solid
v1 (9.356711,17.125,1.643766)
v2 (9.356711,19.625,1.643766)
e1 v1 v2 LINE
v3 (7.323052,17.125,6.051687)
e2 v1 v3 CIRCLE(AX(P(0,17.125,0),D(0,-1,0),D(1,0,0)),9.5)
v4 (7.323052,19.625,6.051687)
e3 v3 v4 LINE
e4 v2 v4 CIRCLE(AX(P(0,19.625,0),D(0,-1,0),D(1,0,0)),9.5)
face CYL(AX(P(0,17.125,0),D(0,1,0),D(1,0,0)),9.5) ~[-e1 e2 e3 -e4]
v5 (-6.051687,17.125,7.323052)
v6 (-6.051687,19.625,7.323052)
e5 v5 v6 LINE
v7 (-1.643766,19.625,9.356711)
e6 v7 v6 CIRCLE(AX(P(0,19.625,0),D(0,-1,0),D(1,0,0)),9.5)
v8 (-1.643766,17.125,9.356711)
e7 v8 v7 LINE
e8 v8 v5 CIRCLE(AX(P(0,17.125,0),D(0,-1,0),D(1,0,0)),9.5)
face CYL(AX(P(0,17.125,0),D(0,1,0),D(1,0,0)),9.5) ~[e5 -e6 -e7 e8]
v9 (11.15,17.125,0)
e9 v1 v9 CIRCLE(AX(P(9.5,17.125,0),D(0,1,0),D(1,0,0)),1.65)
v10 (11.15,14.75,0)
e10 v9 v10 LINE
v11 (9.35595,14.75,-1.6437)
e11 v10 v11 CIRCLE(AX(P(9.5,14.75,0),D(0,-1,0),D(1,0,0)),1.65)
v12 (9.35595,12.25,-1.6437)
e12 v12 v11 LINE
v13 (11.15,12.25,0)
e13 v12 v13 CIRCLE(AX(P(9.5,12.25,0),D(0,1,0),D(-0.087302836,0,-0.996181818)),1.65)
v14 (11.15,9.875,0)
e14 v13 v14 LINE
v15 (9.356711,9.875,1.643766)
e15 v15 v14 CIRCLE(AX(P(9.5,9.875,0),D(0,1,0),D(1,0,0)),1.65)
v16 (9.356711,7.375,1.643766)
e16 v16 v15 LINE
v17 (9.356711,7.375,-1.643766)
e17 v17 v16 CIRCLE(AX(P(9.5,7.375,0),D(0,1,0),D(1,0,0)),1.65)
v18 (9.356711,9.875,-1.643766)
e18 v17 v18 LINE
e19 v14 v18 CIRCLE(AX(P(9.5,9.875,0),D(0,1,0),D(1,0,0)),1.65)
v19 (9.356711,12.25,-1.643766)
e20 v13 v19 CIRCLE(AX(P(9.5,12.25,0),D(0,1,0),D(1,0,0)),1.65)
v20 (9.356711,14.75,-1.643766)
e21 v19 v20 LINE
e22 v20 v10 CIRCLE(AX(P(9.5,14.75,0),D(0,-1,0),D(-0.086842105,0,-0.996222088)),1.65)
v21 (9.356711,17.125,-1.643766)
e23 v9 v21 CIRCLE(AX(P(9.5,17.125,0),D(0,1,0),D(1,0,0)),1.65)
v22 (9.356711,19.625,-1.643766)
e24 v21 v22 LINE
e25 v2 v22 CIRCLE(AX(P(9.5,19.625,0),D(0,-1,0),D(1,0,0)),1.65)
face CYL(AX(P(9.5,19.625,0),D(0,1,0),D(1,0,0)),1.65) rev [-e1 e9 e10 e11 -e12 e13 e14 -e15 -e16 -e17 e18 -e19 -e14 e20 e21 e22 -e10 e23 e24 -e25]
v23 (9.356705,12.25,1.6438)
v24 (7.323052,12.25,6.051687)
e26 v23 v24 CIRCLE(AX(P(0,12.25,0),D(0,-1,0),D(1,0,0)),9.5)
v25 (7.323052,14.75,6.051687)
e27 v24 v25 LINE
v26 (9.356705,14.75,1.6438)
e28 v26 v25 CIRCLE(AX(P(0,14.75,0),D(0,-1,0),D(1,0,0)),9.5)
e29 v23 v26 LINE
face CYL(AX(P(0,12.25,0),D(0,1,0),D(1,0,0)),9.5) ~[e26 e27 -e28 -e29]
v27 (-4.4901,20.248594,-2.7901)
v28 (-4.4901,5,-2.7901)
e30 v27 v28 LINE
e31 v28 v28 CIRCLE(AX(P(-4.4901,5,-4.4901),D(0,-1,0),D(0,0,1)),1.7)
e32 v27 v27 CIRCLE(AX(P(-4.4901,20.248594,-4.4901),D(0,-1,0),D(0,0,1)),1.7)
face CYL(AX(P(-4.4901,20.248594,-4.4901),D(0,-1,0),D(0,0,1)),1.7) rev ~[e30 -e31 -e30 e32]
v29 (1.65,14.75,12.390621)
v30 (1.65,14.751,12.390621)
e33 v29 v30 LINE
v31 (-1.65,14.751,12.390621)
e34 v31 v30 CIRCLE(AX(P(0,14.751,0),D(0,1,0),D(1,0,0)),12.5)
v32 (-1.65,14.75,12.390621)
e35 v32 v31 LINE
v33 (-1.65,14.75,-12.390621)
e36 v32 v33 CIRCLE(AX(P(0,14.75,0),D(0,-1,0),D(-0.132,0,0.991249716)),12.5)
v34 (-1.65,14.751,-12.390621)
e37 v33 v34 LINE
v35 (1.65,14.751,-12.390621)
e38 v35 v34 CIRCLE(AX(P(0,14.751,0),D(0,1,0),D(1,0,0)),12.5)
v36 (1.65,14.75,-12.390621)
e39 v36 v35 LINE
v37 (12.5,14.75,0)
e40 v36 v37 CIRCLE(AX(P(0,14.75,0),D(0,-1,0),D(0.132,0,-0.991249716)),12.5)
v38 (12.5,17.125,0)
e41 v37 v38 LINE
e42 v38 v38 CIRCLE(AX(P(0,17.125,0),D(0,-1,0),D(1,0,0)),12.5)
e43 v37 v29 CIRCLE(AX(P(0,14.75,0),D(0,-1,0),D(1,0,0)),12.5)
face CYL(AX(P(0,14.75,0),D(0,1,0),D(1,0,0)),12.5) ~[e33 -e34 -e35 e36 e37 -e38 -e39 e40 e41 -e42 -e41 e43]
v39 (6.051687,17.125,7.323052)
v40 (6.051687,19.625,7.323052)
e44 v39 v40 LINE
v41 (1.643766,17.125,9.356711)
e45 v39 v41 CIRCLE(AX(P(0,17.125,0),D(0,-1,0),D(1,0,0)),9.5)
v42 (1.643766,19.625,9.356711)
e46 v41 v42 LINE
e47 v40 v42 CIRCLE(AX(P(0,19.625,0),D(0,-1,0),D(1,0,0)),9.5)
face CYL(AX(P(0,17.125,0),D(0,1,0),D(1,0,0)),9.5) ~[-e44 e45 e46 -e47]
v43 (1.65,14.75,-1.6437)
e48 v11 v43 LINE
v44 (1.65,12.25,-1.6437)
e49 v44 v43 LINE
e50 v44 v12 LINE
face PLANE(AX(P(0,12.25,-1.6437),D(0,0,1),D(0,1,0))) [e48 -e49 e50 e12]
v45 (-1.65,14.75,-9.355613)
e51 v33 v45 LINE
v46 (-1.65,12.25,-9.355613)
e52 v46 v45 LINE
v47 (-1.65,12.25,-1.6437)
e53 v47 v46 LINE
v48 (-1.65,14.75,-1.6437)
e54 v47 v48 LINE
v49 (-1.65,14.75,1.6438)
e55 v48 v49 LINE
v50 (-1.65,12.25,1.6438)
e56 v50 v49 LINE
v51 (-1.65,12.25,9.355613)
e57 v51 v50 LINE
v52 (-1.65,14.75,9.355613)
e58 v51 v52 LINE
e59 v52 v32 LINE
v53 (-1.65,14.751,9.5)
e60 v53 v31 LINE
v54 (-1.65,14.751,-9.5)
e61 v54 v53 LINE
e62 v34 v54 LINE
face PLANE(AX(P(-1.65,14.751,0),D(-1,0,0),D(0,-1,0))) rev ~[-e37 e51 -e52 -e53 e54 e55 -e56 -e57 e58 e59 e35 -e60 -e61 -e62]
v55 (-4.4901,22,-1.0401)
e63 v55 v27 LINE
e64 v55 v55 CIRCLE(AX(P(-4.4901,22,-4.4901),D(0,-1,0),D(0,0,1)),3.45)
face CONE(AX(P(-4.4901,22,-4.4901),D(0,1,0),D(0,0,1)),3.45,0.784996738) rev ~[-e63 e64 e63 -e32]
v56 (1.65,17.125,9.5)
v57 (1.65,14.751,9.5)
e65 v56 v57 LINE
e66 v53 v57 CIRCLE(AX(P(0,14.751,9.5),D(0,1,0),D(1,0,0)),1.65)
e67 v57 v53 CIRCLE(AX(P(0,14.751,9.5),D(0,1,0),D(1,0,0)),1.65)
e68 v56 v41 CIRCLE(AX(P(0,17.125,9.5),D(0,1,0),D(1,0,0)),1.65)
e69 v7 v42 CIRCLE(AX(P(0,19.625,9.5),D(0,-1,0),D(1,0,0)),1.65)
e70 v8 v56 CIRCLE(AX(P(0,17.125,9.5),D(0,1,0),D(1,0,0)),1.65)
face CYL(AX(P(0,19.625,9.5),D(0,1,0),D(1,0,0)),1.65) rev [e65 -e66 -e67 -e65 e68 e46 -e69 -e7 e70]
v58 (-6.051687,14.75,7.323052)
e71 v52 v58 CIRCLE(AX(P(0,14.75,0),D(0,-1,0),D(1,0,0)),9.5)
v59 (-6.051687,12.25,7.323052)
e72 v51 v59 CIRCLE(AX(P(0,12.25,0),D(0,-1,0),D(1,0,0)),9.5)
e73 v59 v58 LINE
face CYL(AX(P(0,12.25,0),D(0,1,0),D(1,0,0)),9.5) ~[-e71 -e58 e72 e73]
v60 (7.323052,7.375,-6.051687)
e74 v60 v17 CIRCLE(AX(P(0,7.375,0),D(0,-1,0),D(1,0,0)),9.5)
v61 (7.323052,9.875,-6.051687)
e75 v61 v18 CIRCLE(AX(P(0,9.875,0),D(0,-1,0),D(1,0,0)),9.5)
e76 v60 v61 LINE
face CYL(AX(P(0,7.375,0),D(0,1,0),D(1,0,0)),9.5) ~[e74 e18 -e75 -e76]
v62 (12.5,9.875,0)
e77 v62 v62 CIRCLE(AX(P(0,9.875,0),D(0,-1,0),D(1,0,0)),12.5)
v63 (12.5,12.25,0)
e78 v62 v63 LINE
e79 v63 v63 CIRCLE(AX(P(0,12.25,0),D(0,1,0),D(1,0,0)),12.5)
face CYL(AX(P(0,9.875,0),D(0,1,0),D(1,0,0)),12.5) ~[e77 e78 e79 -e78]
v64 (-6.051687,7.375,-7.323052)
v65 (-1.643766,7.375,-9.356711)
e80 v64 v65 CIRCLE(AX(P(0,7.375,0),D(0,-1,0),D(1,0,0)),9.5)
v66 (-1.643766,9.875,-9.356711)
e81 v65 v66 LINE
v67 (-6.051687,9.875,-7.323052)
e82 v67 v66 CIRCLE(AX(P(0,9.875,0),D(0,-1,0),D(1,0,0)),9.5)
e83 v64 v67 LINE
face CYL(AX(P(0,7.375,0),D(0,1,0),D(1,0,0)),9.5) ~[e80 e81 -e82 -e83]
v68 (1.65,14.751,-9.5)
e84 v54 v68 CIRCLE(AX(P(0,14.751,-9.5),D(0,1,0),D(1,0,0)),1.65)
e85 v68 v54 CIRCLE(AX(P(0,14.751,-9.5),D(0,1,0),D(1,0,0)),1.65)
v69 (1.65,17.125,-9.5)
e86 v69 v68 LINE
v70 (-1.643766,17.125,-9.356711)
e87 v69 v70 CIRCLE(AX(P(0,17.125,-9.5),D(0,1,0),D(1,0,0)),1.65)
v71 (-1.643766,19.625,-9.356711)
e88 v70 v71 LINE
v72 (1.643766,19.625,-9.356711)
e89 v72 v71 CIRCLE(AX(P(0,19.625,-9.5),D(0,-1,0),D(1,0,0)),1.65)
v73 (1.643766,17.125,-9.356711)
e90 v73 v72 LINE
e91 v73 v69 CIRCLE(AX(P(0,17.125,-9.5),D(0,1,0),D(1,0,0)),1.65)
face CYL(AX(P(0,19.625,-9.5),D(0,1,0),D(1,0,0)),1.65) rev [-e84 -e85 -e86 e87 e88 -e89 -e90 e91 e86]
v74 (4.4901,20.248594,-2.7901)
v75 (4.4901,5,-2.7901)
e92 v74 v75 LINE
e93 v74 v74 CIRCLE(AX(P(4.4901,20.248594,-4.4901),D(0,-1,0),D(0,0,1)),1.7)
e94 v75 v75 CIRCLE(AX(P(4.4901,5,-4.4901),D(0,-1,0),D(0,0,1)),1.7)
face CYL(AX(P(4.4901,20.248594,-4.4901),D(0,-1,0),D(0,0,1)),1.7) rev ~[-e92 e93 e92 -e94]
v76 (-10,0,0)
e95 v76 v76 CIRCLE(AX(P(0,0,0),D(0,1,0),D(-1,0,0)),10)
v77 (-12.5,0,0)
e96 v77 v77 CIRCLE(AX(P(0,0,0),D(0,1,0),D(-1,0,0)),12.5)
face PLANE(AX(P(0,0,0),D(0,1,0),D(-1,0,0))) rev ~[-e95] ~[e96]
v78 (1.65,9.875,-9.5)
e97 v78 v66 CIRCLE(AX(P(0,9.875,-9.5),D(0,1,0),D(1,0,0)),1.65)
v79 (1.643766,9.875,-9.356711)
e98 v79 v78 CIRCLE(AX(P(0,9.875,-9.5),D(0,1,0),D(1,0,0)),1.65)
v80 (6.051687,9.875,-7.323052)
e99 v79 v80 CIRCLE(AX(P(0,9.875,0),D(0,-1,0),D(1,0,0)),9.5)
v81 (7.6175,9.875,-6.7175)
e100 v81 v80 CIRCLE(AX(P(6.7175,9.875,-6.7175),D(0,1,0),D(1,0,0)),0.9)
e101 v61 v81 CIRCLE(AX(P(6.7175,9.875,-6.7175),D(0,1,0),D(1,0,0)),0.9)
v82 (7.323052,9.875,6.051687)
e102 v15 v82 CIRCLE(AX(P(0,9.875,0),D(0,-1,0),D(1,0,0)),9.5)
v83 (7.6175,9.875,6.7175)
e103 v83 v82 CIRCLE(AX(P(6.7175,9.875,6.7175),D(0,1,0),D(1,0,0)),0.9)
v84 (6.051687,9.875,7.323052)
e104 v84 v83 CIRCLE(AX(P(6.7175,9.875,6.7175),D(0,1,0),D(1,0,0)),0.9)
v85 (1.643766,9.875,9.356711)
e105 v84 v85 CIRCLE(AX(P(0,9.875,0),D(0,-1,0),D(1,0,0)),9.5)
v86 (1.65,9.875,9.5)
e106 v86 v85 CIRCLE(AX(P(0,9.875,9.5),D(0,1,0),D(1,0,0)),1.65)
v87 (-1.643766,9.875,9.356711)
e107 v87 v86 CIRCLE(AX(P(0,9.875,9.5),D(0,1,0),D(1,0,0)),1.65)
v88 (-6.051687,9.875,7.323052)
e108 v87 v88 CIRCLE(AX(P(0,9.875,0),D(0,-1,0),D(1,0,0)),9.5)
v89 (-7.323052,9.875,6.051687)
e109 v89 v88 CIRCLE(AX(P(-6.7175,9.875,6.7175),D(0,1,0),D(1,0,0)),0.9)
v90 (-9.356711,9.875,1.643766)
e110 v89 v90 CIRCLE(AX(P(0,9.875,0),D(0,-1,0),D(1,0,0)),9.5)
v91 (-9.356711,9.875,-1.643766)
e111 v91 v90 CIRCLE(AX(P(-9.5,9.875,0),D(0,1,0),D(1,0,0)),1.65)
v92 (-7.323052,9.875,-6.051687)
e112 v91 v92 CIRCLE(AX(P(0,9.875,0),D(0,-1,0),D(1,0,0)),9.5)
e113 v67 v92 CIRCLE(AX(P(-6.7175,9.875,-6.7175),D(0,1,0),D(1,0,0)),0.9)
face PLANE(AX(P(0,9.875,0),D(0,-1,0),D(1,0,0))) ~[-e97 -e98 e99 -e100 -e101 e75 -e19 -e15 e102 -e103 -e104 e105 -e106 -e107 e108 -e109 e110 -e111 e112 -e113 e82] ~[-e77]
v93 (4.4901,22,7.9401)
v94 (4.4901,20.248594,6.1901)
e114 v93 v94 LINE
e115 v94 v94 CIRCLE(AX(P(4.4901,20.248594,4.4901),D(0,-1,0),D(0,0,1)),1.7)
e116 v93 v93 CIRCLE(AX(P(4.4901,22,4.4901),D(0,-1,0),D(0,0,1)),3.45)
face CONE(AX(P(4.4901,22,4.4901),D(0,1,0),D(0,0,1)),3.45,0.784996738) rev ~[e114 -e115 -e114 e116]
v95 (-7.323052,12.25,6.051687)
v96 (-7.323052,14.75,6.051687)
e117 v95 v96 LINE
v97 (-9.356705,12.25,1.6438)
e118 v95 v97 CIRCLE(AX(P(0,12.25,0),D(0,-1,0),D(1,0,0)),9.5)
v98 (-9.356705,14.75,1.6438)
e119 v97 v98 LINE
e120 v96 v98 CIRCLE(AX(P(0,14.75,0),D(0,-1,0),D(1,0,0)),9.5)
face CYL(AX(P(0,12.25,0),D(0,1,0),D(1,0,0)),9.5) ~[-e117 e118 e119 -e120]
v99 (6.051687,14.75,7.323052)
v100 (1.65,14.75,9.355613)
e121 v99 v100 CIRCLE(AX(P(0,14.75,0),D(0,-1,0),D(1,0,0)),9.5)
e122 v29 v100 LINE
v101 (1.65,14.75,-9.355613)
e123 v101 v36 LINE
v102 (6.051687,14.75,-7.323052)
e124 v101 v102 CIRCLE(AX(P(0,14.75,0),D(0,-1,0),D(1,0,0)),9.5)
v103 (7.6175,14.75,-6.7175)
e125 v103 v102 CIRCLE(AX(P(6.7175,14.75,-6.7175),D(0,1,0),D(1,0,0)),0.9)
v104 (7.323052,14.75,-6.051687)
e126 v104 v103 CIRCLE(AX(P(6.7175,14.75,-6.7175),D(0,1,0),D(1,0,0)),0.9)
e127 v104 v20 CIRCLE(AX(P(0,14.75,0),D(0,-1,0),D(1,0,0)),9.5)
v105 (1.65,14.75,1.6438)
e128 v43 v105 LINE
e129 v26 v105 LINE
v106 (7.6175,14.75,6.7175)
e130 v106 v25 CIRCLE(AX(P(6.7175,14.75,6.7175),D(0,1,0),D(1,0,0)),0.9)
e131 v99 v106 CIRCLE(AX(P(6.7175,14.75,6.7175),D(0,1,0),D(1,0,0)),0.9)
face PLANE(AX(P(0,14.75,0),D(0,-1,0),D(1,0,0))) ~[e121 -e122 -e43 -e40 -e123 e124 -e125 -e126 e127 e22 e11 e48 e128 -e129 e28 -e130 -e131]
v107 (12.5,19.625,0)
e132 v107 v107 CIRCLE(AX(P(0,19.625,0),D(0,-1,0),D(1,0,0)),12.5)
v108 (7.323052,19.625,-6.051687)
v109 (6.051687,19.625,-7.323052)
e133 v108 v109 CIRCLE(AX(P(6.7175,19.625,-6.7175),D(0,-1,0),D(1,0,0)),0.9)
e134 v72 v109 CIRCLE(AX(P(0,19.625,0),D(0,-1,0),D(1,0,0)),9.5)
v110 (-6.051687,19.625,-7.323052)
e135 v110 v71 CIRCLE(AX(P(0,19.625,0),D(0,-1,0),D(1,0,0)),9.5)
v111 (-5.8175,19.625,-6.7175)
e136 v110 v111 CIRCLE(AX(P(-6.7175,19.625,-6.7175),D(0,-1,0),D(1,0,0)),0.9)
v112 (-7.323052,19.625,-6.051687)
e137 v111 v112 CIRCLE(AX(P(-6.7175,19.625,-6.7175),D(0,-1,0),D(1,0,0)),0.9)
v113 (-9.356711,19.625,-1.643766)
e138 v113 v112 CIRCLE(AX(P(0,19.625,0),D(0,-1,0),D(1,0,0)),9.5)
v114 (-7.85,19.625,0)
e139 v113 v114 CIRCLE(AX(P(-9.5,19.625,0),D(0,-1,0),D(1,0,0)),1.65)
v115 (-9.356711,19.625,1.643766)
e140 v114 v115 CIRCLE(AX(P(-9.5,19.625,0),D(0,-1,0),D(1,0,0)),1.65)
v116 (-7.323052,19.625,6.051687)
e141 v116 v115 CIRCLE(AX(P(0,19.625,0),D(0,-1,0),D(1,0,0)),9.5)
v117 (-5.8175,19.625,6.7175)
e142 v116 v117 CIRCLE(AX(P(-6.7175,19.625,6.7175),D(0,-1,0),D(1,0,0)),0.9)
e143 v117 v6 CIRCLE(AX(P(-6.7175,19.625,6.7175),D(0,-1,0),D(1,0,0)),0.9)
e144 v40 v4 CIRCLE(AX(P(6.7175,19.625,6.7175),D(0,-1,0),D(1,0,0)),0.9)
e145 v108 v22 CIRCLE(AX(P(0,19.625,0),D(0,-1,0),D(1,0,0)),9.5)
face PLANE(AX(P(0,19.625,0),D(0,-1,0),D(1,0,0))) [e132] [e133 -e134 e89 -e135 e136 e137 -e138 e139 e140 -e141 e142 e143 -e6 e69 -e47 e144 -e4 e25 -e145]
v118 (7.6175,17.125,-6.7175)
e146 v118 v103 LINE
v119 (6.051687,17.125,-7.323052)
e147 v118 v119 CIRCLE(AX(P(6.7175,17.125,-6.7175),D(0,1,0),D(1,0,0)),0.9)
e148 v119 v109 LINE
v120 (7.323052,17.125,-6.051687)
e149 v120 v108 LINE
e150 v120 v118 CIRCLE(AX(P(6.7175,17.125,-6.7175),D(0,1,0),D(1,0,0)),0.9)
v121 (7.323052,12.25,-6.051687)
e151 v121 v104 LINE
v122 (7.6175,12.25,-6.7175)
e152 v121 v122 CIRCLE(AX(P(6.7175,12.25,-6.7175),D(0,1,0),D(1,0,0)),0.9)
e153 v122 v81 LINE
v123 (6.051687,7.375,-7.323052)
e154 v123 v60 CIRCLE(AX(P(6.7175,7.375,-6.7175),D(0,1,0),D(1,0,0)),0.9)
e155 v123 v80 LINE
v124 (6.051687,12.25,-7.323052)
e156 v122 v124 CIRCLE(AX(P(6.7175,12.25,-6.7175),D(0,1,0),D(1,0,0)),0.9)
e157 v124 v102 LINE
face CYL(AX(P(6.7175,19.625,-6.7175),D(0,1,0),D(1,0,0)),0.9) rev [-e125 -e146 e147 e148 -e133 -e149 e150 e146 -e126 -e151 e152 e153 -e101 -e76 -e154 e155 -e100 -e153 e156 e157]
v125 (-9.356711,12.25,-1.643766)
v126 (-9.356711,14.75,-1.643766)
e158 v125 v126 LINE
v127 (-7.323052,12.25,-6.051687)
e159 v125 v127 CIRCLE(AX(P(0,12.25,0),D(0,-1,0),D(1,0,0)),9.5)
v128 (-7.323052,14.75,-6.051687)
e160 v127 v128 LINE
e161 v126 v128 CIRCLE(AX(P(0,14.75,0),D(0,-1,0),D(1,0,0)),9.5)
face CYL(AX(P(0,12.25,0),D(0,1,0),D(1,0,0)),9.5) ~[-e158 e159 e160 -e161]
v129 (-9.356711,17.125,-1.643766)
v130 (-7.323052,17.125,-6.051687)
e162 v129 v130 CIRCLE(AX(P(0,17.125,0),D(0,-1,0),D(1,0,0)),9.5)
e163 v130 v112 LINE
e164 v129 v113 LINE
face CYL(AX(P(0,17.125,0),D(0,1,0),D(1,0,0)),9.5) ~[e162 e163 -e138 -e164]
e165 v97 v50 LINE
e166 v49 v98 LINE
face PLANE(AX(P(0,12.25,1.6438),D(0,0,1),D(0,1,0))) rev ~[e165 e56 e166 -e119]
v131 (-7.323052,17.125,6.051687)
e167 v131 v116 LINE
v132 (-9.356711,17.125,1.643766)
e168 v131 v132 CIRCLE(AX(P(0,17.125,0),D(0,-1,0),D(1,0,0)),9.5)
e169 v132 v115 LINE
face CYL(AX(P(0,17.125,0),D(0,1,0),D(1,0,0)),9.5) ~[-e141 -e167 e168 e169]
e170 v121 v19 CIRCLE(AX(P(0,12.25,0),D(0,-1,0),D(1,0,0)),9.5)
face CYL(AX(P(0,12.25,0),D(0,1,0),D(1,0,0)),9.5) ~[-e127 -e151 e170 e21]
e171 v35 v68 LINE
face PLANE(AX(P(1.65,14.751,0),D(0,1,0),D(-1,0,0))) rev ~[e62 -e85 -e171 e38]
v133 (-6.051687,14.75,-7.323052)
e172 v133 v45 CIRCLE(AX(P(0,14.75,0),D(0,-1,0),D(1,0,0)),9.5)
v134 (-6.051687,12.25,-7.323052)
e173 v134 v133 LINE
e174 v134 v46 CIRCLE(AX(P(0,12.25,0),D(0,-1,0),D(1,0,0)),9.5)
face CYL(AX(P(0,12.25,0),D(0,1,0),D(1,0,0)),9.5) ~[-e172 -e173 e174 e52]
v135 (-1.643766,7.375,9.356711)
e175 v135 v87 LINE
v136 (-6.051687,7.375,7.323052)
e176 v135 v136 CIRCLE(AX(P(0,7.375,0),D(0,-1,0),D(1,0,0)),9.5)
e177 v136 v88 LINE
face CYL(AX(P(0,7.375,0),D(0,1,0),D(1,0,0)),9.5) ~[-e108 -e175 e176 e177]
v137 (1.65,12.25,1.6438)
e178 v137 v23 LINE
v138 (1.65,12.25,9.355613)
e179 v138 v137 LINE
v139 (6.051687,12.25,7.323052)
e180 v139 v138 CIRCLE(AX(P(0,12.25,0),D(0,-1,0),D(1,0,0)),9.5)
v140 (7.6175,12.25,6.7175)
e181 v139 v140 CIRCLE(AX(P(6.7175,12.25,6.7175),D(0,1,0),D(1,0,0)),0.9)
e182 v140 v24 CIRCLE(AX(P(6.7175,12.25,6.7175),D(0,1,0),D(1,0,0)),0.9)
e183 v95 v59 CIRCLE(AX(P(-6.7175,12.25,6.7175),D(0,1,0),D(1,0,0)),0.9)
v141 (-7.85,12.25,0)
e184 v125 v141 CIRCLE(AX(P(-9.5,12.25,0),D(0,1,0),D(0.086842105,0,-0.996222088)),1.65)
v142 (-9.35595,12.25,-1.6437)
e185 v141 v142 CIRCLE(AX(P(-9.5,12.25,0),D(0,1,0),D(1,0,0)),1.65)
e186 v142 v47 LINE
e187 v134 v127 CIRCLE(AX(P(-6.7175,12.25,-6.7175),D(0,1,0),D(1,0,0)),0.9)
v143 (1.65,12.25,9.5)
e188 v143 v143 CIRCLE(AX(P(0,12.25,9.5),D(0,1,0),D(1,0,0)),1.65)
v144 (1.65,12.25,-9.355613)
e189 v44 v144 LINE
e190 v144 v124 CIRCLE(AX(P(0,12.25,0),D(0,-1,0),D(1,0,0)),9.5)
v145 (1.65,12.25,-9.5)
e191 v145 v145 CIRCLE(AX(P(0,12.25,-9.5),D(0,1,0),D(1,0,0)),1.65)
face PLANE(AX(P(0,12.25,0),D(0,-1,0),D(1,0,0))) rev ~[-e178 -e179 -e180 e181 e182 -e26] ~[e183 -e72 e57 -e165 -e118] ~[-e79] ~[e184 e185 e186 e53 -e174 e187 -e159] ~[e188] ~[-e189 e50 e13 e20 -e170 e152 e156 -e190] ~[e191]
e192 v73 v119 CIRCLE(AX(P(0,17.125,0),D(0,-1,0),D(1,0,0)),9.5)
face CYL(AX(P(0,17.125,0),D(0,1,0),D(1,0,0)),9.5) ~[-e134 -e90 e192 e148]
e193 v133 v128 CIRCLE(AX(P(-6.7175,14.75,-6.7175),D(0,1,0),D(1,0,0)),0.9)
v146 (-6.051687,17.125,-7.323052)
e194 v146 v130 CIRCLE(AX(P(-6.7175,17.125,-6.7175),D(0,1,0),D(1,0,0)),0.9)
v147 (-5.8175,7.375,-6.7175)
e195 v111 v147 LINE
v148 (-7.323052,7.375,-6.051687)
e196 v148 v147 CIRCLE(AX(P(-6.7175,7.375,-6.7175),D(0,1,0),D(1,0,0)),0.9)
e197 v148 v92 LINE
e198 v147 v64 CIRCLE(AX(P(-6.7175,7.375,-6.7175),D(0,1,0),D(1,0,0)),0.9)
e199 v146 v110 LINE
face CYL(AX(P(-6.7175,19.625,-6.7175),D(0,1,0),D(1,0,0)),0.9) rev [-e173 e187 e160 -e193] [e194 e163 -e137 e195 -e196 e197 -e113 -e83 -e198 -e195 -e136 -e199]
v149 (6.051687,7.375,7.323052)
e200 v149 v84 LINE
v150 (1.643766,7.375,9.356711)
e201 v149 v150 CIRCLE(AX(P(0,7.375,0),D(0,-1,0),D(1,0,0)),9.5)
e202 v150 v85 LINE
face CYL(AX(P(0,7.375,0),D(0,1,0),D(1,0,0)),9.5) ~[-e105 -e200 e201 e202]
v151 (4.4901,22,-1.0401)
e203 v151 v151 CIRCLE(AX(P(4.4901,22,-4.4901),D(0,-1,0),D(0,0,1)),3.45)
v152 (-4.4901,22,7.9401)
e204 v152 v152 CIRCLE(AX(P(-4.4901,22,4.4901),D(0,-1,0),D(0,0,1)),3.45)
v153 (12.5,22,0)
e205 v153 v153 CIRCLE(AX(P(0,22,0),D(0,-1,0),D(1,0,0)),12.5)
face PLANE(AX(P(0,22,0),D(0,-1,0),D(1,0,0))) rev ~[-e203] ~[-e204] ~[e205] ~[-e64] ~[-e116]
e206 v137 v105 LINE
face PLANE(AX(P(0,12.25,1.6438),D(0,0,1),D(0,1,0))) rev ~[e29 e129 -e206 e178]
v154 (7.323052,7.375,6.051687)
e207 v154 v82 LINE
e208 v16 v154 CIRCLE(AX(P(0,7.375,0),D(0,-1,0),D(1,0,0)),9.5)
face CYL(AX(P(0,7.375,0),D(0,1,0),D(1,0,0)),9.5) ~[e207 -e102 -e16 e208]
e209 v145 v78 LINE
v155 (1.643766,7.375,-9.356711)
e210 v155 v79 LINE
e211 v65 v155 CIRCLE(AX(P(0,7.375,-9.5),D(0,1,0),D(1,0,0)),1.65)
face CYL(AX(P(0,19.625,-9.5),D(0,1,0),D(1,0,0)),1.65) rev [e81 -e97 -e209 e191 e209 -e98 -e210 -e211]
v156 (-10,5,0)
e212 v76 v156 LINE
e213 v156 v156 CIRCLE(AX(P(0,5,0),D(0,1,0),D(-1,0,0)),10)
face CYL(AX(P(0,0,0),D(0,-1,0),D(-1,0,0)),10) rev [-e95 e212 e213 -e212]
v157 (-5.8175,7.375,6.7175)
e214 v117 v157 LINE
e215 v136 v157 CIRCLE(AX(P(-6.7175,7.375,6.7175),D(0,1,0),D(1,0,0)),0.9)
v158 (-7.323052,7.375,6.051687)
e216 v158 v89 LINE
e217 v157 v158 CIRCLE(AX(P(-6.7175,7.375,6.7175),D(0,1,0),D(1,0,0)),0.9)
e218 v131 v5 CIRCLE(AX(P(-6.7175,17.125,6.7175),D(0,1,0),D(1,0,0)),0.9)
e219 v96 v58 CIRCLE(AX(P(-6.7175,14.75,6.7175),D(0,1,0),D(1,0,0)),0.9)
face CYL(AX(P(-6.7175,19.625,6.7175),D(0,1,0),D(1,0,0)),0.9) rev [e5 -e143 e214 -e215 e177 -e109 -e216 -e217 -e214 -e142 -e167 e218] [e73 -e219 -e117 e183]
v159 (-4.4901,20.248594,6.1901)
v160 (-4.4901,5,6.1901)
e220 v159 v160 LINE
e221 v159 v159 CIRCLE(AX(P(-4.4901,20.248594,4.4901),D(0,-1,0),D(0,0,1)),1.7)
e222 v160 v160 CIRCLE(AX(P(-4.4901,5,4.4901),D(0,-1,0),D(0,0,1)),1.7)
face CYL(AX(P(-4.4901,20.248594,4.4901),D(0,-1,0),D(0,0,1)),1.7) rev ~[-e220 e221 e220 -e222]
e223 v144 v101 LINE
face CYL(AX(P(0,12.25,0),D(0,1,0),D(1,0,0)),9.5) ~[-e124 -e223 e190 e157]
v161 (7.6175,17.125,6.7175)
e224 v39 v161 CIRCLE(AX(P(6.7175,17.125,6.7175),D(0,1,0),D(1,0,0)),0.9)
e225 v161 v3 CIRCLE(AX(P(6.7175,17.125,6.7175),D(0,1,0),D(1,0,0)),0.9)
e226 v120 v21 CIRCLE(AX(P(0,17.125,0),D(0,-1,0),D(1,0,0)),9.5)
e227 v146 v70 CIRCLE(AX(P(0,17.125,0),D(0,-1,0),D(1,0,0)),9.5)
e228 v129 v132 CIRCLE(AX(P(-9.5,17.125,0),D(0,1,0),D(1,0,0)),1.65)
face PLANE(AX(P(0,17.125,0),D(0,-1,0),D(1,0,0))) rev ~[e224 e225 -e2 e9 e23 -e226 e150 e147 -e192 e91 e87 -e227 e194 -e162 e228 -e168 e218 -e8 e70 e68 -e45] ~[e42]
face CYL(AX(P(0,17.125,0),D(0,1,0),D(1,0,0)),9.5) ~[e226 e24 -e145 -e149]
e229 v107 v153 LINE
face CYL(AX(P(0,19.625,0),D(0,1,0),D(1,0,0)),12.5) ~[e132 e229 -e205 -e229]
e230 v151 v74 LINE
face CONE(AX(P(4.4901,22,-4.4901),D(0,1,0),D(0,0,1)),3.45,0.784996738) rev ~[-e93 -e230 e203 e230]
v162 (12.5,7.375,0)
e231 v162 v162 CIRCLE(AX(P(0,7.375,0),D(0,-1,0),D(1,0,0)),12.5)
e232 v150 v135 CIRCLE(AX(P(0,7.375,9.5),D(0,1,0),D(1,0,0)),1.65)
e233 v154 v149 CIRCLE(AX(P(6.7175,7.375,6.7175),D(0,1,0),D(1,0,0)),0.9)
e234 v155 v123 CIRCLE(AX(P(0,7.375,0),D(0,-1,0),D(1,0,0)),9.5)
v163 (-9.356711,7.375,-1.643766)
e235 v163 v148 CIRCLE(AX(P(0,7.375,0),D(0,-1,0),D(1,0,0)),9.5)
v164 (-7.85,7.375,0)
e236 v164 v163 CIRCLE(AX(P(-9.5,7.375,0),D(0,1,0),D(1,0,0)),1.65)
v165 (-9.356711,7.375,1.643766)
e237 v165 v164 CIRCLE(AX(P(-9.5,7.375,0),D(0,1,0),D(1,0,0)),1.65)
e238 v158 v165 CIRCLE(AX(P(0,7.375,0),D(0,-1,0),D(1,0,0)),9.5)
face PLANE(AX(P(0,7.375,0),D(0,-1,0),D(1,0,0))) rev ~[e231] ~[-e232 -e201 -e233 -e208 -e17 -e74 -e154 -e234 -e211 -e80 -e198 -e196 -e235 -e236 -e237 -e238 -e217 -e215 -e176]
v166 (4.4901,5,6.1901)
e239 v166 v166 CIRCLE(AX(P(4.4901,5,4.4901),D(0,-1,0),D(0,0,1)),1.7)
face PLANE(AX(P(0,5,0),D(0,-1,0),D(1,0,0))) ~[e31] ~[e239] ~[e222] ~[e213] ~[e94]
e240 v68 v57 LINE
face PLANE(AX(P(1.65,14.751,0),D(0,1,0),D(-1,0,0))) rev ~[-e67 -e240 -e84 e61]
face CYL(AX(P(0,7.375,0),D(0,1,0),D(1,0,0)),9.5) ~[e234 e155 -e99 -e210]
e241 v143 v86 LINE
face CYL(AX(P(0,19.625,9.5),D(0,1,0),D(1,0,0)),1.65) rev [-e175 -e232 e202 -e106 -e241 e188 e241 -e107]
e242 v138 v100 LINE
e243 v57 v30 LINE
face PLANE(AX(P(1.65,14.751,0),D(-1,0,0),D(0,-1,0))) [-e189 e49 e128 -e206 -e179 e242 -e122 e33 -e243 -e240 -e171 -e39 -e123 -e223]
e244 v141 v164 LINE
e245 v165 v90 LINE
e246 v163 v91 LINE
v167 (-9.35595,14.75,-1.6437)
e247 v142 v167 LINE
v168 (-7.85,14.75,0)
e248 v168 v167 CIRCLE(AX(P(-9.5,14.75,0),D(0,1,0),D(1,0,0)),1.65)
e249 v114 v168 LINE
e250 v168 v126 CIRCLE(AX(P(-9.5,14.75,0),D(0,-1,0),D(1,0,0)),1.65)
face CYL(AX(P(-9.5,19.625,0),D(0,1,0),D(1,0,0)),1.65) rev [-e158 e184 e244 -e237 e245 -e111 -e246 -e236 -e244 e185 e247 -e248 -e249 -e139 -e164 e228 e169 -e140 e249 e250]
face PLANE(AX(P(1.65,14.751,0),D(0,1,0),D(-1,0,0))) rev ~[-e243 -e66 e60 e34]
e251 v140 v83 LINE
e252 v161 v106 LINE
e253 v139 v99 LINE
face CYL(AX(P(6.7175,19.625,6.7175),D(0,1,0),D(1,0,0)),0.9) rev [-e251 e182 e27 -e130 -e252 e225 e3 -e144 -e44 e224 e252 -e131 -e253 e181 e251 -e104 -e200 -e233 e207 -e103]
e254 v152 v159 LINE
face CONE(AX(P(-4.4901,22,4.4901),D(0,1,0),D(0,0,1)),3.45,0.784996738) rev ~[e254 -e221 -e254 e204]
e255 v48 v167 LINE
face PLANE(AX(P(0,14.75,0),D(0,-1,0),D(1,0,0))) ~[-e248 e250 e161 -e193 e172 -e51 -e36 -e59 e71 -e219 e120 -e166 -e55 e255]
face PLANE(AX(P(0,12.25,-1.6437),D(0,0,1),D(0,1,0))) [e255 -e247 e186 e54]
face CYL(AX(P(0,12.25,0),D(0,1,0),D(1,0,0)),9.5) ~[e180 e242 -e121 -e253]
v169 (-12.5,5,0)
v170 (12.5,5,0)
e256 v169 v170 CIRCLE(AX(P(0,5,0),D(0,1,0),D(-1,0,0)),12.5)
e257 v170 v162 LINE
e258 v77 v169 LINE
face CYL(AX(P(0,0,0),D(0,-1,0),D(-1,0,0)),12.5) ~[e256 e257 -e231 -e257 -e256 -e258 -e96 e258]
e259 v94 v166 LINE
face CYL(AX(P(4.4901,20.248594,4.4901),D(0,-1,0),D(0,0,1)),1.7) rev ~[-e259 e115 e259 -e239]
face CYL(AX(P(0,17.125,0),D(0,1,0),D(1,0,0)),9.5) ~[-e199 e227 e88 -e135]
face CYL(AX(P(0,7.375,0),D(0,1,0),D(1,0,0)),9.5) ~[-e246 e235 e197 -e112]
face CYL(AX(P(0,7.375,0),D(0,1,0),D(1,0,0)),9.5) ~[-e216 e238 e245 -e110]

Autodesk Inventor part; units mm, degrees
ref_plane "YZ Plane" through (0, 0, 0) normal (1, 0, 0) x (0, 1, 0)
sketch "Szkic1" plane through (0, 0, 0) normal (0, 1, 0) x (-1, 0, 0)
  circle A0 centre (0, 0) radius 12.5
  circle A1 centre (0, 0) radius 10
  dimension "d0" = 20
  dimension "d2" = 25
extrude "Wyciągnięcie proste1" add sketch "Szkic1" along normal blind 5
ref_plane "Płaszczyzna konstrukcyjna1" through (0, -12, 0) normal (0, 0, -1) x (-1, 0, 0)
sketch "Szkic5" plane through (0, -12, 0) normal (0, 0, -1) x (-1, 0, 0)
  line L0 (12.5, 17) -> (-12.5, 17) projected
  line L1 (0, 17) -> (-12.5, 17)
  line L2 (-12.5, 17) -> (-12.5, 19.375)
  line L3 (-12.5, 19.375) -> (0, 19.375)
  line L4 (0, 19.375) -> (0, 17)
  line L5 (0, 19.375) -> (-9.5, 19.375)
  line L6 (-9.5, 19.375) -> (-9.5, 21.875)
  line L7 (-9.5, 21.875) -> (0, 21.875)
  line L8 (0, 21.875) -> (0, 19.375)
  line L9 (0, 21.875) -> (-12.5, 21.875)
  line L10 (-12.5, 21.875) -> (-12.5, 24.25)
  line L11 (-12.5, 24.25) -> (0, 24.25)
  line L12 (0, 24.25) -> (0, 21.875)
  line L13 (0, 24.25) -> (-9.5, 24.25)
  line L14 (-9.5, 24.25) -> (-9.5, 26.75)
  line L15 (-9.5, 26.75) -> (0, 26.75)
  line L16 (0, 26.75) -> (0, 24.25)
  line L17 (0, 26.75) -> (-12.5, 26.75)
  line L18 (-12.5, 26.75) -> (-12.5, 29.125)
  line L19 (-12.5, 29.125) -> (0, 29.125)
  line L20 (0, 29.125) -> (0, 26.75)
  line L21 (0, 29.125) -> (-9.5, 29.125)
  line L22 (-9.5, 29.125) -> (-9.5, 31.625)
  line L23 (-9.5, 31.625) -> (0, 31.625)
  line L24 (0, 31.625) -> (0, 29.125)
  line L25 (0, 31.625) -> (-12.5, 31.625)
  line L26 (-12.5, 31.625) -> (-12.5, 34)
  line L27 (-12.5, 34) -> (0, 34)
  line L28 (0, 34) -> (0, 31.625)
  line L29 (-12.5, 12) -> (-12.5, 17) construction
  line L30 (-12.5, 12) -> (-12.5, 17) construction
  line L31 (-12.5, 12) -> (12.5, 12) construction
  point P0 (0, 12)
  dimension "d13" = 2.5
  dimension "d17" = 22
  dimension "d18" = 3
revolve "Obrót1" add sketch "Szkic5" angle 360 about axis through (0, 12.25, 0) along (0, -1, 0)
sketch "Szkic7" plane through (0, 19.625, 0) normal (0, -1, 0) x (1, 0, 0)
  circle A0 centre (0, 0) radius 9.5 projected
  circle A1 centre (0, 9.5) radius 1.65
  circle A2 centre (0, 0) radius 10 projected
  circle A3 centre (0, 0) radius 9.5 projected
  circle A4 centre (-9.5, 0) radius 1.65
  circle A5 centre (0, -9.5) radius 1.65
  circle A6 centre (9.5, 0) radius 1.65
  circle A7 centre (6.7175, -6.7175) radius 0.9
  circle A8 centre (6.7175, 6.7175) radius 0.9
  circle A9 centre (-6.7175, 6.7175) radius 0.9
  circle A10 centre (-6.7175, -6.7175) radius 0.9
  line L0 (6.7175, 6.7175) -> (0, 0) construction
  line L1 (0, 0) -> (-6.7175, 6.7175) construction
  circle A11 centre (0, 0) radius 12.5 construction
  line L2 (0, 0) -> (-6.7175, -6.7175) construction
  line L3 (0, 0) -> (6.7175, -6.7175) construction
  line L4 (17.5, 0) -> (-17.5, 0) construction
  dimension "d23" = 45
  dimension "d24" = 45
  dimension "d25" = 3.3
  dimension "d47" = 1.8
extrude "Wyciągnięcie proste6" cut sketch "Szkic7" along normal up to surface (12.25 mm away) contours A0 A6 | A0 A6 A2 | A8 A0 | A0 A8 A2 | A6 A2 | A7 A2 A0 | A0 A7 | A2 A8 | A7 A2 | A1 A0 | A0 A1 A2 | A5 A2 A0 | A0 A5 | A2 A1 | A5 A2 | A9 A0 | A0 A9 A2 | A10 A2 A0 | A0 A10 | A2 A9 | A10 A2 | A4 A0 | A0 A4 A2 | A2 A4
sketch "Szkic8" plane through (0, -12, 0) normal (0, 0, -1) x (-1, 0, 0)
  line L0 (-1.65, 24.25) -> (1.65, 24.25) projected
  line L1 (-1.65, 29.125) -> (-1.65, 21.875) projected
  line L2 (1.65, 24.25) -> (-1.65, 24.25)
  line L3 (-1.65, 24.25) -> (-1.65, 26.751)
  line L4 (-1.65, 26.751) -> (1.65, 26.751)
  line L5 (1.65, 26.751) -> (1.65, 24.25)
  point P0 (0, 12)
  point P1 (-1.6438, 24.25)
  point P2 (1.6438, 24.25)
extrude "Wyciągnięcie proste7" cut sketch "Szkic8" along normal through all both and the other way through all
sketch "Szkic9" plane through (0, 5, 0) normal (0, -1, 0) x (1, 0, 0)
  line L0 (0, 0) -> (-3.4352, 0)
  line L1 (-3.4352, 0) -> (-3.4352, -2.2657)
  line L2 (-3.4352, -2.2657) -> (0, -2.2657)
  line L3 (0, -2.2657) -> (0, 0)
  dimension "d30" = 3.4352
  dimension "d31" = 2.2658
extrude "Wyciągnięcie proste8" add sketch "Szkic9" along normal blind 15
ref_plane "Płaszczyzna konstrukcyjna2" through (0, -10, -2.2657) normal (1, 0, 0) x (0, 0, -1)
sketch "Szkic10" plane through (0, -10, 0) normal (0, -1, 0) x (1, 0, 0)
  line L0 (0, 0) -> (-3.4352, 0) projected
  line L1 (-3.4352, -2.2657) -> (0, -2.2657) projected
  line L2 (0, 0) -> (-3.4352, 0)
  line L3 (-3.4352, 0) -> (-3.4352, -2.2657)
  line L4 (-3.4352, -2.2657) -> (0, -2.2657)
  line L5 (0, -2.2657) -> (0, 0)
extrude "Wyciągnięcie proste9" cut sketch "Szkic10" against normal up to surface (15 mm away)
sketch "Szkic11" plane through (0, -10, -2.2657) normal (1, 0, 0) x (0, 0, -1)
  line L0 (-3.9095, 22.25) -> (-3.9095, 24.75) projected
  line L1 (-0.622, 22.25) -> (-0.622, 24.75) projected
  line L2 (-3.9095, 22.25) -> (-0.622, 22.25)
  line L3 (-0.622, 22.25) -> (-0.622, 24.75)
  line L4 (-0.622, 24.75) -> (-3.9095, 24.75)
  line L5 (-3.9095, 24.75) -> (-3.9095, 22.25)
  point P0 (-2.2657, 10)
extrude "Wyciągnięcie proste10" cut sketch "Szkic11" along normal through all both and the other way through all
sketch "Szkic12" plane through (0, 22, 0) normal (0, 1, 0) x (1, 0, 0)
  line L0 (0, 0) -> (-4.4901, 4.4901) construction
  line L1 (0, 0) -> (0, 6.35) construction
  line L2 (0, 0) -> (-4.4901, -4.4901) construction
  line L3 (0, 0) -> (4.4901, -4.4901) construction
  line L4 (0, 0) -> (4.4901, 4.4901) construction
  circle A0 centre (0, 0) radius 6.35 construction
  circle A1 centre (0, 0) radius 12.5 construction
  point P0 (-4.4901, -4.4901)
  dimension "d48" = 45
  dimension "d49" = 12.7
hole "Otwór1" at (-4.4901, 22, -4.4901) at (-4.4901, 22, 4.4901) at (4.4901, 22, 4.4901) at (4.4901, 22, -4.4901) direction (0, -1, 0) diameter 3.4 end through all countersink diameter 6.9 countersink angle 89.954 clearance for "Śruba ze łbem stożkowym ISO 2009/7046" size "M3" standard "ISO"
properties part number "Koło"
